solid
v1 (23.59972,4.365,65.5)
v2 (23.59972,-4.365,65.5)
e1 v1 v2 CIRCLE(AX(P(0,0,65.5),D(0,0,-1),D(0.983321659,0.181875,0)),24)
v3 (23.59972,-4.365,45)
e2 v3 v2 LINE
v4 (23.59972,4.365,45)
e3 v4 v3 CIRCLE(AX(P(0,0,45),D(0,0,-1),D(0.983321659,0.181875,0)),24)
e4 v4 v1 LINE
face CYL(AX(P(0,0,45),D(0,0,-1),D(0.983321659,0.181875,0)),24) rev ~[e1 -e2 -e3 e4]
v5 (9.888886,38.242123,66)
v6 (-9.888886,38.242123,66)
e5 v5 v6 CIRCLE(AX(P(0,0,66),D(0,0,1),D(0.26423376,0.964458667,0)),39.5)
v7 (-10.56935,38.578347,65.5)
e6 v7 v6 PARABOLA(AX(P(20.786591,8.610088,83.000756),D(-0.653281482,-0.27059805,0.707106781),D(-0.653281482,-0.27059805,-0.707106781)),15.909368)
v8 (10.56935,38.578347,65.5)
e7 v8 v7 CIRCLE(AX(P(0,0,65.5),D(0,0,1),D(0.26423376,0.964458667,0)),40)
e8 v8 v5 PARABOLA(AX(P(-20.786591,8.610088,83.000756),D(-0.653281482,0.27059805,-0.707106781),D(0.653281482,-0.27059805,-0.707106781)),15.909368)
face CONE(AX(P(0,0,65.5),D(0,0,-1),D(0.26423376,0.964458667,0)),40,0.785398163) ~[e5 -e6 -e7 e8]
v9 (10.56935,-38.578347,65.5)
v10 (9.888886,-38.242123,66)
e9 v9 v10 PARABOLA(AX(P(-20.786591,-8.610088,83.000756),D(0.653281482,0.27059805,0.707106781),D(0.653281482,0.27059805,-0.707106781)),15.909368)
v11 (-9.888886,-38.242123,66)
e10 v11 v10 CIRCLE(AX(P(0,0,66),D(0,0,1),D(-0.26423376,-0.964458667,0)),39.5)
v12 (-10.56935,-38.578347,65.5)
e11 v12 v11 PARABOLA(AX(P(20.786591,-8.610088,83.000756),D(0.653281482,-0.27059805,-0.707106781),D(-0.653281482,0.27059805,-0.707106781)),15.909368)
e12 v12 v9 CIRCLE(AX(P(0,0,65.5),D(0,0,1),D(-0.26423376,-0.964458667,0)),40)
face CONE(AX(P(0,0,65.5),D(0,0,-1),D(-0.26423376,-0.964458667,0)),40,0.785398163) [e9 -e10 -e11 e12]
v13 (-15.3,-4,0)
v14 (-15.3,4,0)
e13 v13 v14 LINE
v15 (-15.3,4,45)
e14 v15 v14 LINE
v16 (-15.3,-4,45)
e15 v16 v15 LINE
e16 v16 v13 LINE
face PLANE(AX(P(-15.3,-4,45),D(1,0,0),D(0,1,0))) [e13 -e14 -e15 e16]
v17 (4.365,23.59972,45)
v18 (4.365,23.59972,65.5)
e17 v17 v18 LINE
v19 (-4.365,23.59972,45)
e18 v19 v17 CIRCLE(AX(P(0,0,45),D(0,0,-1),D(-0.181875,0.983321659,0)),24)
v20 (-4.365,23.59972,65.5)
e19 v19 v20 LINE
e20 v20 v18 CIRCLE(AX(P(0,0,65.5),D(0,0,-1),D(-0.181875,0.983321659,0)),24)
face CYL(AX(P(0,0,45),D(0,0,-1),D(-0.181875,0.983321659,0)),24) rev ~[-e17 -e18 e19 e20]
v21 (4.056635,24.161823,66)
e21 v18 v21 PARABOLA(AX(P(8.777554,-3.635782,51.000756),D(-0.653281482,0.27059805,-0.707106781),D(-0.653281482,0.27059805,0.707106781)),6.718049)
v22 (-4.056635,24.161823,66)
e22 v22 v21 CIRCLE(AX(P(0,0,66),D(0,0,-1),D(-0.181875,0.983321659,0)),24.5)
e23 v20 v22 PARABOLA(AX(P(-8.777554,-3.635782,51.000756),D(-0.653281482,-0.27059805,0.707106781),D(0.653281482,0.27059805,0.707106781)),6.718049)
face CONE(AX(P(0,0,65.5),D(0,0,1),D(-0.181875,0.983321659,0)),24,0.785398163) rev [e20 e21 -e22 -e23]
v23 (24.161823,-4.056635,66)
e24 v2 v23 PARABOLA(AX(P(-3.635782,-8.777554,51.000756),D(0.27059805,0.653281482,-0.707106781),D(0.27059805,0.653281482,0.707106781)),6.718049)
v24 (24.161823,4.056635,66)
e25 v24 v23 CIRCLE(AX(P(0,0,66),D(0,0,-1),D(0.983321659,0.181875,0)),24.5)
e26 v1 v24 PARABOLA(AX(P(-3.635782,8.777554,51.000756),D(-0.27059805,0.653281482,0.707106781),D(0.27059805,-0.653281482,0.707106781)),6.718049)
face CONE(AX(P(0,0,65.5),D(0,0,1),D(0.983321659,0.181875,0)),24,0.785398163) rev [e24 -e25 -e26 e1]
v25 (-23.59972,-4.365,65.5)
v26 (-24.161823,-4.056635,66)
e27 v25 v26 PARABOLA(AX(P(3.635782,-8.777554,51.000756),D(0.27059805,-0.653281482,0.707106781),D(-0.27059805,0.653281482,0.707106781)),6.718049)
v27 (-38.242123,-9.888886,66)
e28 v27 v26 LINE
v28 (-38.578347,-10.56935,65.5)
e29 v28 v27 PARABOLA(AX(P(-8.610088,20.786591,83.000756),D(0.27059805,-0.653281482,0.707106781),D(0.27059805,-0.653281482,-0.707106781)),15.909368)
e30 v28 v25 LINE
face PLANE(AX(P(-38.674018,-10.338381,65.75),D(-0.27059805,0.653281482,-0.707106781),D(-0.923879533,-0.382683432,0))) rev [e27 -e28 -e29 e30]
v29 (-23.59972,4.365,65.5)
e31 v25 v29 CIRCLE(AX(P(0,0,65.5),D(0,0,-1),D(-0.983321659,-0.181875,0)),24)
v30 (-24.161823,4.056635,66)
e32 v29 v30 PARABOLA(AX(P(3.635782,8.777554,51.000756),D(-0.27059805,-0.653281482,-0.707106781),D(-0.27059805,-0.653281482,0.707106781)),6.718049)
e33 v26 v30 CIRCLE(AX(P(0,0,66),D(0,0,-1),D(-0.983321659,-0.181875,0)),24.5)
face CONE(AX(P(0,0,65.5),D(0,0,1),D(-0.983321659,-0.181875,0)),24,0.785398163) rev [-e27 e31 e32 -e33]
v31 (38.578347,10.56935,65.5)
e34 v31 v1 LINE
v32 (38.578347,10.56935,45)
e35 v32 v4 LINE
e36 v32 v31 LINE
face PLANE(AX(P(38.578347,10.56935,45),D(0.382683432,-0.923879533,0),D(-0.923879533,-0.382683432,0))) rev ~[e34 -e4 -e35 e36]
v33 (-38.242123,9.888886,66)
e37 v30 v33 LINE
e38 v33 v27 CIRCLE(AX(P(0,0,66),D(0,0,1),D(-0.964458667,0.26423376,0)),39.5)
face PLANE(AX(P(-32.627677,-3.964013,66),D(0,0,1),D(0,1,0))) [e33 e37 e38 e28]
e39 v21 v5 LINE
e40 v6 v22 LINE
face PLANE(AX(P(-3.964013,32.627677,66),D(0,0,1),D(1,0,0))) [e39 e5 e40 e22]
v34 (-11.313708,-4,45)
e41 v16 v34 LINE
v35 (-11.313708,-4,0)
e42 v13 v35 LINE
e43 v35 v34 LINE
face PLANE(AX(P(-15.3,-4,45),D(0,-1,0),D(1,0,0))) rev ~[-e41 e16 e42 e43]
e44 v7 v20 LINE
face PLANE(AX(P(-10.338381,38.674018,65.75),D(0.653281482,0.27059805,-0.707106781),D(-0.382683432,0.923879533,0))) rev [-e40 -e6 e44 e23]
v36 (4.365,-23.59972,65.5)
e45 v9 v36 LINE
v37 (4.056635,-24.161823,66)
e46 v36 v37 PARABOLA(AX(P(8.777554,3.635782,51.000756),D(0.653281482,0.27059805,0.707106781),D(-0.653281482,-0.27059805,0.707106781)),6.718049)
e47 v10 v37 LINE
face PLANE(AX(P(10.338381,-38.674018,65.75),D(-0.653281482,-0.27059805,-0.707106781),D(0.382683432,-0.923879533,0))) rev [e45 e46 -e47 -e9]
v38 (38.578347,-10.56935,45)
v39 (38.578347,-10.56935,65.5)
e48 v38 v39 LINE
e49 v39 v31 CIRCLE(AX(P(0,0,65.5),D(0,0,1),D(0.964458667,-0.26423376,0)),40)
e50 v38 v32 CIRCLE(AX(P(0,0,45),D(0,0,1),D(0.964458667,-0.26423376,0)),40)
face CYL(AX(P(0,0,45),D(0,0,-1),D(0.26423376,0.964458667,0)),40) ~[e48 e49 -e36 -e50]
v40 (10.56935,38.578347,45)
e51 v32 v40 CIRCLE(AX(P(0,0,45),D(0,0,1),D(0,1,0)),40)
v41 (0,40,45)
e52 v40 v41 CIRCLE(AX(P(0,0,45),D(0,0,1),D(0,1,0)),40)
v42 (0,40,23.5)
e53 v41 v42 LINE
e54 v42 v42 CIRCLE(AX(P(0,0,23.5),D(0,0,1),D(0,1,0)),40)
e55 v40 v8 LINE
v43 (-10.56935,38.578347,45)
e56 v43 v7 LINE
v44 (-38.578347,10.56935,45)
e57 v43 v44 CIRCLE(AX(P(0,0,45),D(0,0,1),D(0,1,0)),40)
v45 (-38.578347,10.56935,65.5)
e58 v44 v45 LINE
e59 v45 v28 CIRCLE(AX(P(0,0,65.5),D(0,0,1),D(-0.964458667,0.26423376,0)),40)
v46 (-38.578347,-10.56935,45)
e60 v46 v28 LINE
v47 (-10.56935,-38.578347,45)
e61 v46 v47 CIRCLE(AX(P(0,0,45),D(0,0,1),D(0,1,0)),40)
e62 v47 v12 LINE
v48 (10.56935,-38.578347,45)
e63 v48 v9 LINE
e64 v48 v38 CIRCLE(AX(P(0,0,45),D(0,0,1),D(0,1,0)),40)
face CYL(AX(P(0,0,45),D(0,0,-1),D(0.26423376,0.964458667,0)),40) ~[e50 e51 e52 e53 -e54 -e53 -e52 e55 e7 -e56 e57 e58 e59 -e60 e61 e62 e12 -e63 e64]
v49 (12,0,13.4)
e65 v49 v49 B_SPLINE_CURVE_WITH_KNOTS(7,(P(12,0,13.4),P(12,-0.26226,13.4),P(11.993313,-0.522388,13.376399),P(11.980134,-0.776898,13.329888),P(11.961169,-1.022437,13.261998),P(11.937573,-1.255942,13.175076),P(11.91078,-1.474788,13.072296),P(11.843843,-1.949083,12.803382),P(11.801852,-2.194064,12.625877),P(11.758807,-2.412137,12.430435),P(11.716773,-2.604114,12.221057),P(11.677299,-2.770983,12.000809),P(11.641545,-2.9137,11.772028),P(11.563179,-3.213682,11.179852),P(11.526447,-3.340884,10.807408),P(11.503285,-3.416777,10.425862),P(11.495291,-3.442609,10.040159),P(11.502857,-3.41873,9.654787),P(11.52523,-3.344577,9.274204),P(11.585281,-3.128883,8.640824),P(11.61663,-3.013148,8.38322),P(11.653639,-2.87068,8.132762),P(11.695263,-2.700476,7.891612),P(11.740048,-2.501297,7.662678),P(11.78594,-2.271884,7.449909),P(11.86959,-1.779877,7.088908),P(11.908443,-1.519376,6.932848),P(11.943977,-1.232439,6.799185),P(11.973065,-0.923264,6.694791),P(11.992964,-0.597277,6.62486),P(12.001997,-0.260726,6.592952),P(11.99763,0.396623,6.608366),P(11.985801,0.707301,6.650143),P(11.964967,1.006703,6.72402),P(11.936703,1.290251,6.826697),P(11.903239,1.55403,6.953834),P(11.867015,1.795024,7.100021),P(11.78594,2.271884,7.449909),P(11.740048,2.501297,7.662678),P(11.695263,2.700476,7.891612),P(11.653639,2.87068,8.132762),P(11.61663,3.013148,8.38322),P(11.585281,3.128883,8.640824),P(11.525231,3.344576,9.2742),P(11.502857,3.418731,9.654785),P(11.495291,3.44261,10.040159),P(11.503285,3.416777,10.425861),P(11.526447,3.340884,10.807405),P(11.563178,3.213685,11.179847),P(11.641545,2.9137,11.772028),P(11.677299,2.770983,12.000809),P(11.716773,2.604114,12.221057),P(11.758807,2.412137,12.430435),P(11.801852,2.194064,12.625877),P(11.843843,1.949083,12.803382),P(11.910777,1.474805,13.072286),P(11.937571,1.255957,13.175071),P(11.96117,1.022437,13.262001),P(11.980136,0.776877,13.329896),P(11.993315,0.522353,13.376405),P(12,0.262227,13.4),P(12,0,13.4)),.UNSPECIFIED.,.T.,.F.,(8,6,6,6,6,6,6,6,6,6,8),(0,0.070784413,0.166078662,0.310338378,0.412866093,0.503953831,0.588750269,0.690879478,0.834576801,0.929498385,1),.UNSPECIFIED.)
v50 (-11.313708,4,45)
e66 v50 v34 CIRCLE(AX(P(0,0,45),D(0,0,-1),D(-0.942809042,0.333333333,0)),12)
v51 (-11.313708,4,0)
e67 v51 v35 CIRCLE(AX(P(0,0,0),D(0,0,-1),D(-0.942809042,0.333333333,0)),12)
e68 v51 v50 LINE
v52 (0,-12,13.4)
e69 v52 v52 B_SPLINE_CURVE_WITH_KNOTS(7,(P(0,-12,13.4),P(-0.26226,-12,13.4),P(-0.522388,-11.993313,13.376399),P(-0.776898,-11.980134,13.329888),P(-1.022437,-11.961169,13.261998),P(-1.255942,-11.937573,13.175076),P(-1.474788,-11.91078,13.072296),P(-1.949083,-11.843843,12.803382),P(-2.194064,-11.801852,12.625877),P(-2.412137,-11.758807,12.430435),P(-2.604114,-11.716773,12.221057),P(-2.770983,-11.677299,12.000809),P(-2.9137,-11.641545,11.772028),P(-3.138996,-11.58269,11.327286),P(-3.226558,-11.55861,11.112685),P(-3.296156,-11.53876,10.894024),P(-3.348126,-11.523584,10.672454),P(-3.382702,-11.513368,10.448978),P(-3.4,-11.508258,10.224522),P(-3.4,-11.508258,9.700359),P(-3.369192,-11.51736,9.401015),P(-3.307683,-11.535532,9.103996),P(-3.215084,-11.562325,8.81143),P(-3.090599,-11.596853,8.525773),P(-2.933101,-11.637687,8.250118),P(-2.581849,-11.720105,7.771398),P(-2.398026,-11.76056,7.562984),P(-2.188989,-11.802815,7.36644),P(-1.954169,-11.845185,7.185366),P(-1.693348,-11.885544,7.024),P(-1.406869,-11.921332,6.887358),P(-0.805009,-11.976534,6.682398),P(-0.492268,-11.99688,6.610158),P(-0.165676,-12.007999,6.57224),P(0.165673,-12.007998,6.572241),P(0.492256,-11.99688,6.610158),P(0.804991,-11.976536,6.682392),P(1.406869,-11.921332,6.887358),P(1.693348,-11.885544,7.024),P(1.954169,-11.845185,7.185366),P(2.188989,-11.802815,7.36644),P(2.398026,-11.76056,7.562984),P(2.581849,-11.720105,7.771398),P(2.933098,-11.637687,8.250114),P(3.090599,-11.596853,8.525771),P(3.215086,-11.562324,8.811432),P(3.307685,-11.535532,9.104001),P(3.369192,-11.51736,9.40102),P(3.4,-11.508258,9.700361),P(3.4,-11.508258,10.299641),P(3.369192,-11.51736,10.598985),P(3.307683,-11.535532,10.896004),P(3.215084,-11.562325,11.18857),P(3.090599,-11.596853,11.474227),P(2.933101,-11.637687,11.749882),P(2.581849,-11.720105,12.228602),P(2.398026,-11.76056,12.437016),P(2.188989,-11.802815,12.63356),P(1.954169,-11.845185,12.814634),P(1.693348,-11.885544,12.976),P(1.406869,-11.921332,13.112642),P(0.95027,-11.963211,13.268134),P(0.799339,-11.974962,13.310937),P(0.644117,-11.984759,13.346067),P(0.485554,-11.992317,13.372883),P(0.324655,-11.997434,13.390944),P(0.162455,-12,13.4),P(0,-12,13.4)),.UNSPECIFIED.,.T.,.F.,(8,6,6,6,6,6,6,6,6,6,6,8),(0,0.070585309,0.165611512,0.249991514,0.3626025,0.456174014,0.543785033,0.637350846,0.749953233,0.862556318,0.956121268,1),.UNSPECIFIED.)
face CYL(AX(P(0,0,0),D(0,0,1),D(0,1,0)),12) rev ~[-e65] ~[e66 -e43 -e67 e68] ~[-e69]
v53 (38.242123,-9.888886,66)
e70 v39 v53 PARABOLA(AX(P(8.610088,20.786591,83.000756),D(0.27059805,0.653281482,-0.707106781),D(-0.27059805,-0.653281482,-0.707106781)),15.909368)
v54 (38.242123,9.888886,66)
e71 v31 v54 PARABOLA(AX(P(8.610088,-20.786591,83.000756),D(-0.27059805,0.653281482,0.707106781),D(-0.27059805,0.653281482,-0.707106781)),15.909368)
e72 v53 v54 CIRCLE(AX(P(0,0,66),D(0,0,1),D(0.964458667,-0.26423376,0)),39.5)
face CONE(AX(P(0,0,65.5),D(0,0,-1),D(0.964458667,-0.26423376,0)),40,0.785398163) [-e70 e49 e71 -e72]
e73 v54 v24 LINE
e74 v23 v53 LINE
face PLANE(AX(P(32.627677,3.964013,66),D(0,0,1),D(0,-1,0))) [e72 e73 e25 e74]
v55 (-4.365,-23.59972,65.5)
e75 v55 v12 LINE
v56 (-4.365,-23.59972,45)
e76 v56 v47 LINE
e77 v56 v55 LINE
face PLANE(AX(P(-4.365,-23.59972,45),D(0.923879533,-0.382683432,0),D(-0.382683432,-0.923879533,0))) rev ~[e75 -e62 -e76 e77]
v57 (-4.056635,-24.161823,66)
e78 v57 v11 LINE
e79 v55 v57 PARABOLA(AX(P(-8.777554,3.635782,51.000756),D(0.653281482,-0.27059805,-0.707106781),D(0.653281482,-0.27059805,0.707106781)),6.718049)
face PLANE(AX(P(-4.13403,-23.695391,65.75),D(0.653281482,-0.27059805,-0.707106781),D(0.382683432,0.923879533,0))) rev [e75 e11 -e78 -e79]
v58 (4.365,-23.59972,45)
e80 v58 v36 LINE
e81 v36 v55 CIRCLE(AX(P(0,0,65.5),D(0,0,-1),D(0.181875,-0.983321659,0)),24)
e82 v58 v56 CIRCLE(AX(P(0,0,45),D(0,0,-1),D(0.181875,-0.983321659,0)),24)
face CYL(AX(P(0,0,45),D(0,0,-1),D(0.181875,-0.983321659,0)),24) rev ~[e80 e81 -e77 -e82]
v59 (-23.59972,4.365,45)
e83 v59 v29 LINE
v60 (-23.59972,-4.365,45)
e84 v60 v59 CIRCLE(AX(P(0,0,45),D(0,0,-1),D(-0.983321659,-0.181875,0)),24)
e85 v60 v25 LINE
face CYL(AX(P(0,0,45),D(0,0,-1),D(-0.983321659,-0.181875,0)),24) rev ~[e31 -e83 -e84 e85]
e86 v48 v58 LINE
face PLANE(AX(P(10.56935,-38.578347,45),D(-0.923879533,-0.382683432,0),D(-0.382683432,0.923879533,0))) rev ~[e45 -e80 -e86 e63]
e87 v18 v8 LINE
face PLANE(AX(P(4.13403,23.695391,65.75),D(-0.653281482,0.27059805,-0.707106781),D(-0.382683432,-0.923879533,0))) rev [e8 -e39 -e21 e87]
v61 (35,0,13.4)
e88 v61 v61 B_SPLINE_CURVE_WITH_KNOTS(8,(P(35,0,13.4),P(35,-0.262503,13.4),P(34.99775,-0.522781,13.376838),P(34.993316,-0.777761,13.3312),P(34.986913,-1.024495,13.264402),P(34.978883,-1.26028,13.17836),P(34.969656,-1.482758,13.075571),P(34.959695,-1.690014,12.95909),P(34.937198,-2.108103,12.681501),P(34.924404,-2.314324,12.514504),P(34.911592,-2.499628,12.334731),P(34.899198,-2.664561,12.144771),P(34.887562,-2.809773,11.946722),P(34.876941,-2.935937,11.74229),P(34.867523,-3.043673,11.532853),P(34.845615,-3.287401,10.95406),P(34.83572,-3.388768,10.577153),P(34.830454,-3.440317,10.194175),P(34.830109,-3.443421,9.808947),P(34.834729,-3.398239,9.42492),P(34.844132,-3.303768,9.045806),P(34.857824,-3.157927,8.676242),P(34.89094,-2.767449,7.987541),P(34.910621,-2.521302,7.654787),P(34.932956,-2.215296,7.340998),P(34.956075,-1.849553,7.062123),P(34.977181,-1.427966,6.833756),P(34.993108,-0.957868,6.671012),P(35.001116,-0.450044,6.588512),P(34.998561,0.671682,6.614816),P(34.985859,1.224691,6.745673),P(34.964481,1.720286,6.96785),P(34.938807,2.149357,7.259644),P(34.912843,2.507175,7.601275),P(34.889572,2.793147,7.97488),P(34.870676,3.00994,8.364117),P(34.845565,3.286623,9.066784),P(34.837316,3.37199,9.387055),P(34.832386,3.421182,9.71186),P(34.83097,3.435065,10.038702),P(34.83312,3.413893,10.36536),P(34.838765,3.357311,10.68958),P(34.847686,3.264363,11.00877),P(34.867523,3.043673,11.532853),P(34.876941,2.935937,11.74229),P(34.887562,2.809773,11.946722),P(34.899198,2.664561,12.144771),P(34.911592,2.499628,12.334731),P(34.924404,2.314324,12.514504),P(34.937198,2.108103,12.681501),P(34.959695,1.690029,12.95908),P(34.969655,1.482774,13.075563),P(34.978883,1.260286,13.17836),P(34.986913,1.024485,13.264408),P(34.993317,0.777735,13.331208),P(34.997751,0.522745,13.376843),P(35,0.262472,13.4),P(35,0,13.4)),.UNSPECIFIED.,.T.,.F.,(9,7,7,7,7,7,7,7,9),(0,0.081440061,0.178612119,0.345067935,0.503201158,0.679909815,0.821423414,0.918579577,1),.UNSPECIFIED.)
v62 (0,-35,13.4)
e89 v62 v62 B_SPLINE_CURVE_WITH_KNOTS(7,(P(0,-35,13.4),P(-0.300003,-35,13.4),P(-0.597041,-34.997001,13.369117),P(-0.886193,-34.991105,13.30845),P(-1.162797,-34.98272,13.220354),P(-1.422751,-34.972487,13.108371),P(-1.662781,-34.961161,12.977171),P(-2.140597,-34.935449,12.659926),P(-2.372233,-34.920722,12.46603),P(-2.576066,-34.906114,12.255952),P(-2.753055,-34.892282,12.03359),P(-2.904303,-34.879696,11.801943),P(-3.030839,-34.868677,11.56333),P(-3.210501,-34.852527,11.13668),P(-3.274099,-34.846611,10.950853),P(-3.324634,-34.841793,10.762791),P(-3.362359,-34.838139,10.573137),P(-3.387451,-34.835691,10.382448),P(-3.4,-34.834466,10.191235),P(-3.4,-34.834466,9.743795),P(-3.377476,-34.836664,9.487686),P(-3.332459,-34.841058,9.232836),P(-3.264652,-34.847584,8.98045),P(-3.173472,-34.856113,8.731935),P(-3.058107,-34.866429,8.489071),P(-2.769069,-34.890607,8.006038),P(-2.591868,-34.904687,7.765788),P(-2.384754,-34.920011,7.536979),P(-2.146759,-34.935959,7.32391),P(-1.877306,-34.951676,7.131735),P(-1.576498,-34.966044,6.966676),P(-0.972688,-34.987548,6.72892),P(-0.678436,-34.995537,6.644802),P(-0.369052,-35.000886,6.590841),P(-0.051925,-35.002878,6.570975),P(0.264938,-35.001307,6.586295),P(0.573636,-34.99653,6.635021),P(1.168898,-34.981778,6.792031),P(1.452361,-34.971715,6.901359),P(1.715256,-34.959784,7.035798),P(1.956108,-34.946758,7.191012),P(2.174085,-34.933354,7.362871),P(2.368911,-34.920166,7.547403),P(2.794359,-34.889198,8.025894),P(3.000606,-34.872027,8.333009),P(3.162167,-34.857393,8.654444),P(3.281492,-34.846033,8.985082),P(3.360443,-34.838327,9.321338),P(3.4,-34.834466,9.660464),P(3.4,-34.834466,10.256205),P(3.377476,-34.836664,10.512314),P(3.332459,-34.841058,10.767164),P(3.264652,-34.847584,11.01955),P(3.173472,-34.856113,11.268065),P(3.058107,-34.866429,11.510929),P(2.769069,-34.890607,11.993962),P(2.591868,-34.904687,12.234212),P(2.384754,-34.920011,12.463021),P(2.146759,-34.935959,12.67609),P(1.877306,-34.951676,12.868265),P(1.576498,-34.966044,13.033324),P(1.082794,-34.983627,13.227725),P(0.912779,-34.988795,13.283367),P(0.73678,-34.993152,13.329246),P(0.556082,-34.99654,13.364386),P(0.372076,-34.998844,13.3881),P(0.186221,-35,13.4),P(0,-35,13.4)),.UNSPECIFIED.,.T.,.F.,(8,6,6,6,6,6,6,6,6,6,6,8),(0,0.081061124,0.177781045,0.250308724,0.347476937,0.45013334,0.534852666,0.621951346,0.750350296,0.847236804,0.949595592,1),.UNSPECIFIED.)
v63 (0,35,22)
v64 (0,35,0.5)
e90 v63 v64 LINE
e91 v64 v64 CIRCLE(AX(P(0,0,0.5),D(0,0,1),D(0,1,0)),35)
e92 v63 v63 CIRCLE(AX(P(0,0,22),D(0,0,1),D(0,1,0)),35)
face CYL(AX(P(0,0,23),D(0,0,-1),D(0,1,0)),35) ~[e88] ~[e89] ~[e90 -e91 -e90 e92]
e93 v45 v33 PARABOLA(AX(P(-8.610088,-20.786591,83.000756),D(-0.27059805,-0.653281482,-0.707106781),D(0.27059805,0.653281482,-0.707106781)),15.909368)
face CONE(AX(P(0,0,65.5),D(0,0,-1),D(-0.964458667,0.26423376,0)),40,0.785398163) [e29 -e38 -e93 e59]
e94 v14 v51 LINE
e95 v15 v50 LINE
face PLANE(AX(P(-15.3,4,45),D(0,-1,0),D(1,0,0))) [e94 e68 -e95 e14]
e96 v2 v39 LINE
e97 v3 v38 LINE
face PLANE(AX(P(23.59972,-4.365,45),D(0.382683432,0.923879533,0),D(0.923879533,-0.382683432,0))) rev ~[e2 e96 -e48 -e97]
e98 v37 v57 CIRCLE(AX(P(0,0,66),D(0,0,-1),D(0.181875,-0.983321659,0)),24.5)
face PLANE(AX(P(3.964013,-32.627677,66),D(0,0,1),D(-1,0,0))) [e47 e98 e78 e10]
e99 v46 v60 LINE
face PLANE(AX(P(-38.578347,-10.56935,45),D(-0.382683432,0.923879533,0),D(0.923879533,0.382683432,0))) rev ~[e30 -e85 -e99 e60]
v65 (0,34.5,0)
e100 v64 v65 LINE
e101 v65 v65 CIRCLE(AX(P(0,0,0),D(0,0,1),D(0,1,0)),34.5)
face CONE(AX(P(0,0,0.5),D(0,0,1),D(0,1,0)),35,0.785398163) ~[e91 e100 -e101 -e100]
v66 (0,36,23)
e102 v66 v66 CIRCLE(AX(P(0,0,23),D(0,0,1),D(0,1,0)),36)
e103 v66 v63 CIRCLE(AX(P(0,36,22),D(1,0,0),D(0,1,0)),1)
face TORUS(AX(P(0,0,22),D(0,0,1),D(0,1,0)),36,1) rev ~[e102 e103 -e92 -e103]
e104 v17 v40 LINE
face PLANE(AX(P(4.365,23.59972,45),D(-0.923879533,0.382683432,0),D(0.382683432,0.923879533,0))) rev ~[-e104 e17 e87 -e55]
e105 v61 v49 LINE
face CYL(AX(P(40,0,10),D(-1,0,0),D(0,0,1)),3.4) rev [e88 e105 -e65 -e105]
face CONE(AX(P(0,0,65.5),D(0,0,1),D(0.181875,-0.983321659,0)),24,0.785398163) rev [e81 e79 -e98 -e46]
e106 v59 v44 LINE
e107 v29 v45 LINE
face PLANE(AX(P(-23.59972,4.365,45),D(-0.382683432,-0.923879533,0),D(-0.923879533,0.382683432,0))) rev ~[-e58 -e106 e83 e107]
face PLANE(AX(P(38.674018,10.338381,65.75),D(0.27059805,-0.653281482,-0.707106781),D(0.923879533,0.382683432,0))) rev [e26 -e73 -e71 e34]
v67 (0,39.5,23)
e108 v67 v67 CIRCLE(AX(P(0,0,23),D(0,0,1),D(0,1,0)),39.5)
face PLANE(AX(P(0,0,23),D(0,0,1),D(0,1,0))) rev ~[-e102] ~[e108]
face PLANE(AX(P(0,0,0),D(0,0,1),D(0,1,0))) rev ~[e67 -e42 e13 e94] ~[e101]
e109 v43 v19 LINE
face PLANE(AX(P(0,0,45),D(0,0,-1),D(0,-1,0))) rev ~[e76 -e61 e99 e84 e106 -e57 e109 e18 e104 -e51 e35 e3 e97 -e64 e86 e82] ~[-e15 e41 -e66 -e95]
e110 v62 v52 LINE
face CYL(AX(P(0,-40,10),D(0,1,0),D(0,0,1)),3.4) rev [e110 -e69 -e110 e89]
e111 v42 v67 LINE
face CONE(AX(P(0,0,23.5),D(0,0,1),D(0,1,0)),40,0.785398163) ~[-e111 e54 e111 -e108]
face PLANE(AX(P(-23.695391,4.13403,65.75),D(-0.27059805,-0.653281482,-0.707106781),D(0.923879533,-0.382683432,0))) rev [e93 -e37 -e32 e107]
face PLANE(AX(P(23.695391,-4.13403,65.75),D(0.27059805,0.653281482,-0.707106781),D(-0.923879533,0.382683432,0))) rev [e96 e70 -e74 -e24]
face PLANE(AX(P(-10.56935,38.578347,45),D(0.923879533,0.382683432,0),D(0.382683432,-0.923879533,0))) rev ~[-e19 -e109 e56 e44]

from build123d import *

# Parameters (mm, degrees)
BOSS_EXTRUDE1_DEPTH = 21
CIRPATTERN1_COUNT   = 4
CHAMFER1_SIZE       = 0.5
SKETCH4_W           = 6.599999999999998
SKETCH4_H           = 8
CUT_EXTRUDE1_DEPTH  = 73.2841614740048
CHAMFER2_SIZE       = 0.5
FILLET1_R           = 1
CIRPATTERN4_COUNT   = 4


with BuildPart() as part:
    # Sketch1 → Revolve1 (revolve)
    with BuildSketch(Plane(origin=(0, 0, 0), x_dir=(0, 0, -1), z_dir=(1, 0, 0))):
        Polygon((-7.9e-16, 35), (0, 11.999999999999998), (-45, 11.999999999999995), (-45, 39.999999999999986), (-23, 39.99999999999999), (-23, 35), align=None)
    revolve(axis=Axis((0, 0, 0), (0, -1.2e-16, 1)))

    # Sketch3 → Boss-Extrude1 (add)
    with BuildSketch(Plane.XY.offset(44.99999999999999)):
        with BuildLine():
            ThreePointArc((-4.365000000000001, 23.599719807658744), (-2.1916574340201906, 23.89972045217066), (-3.535e-13, 24.00000000000001))
            Line((0, 24.00000000000001), (0, 40))
            ThreePointArc((1.49969e-12, 40), (-5.332266542852567, 39.642993498422584), (-10.569350394509474, 38.578346675798365))
            Line((-10.569350394509476, 38.57834667579836), (-4.365, 23.599719807658744))
        make_face()
        with BuildLine():
            Line((0, 40), (0, 24.00000000000001))
            ThreePointArc((-3.5261e-13, 24.00000000000001), (2.191657434019837, 23.89972045217069), (4.365, 23.599719807658744))
            Line((4.365, 23.599719807658744), (10.569350394509485, 38.57834667579835))
            ThreePointArc((10.569350394509485, 38.57834667579835), (5.332266542854057, 39.64299349842238), (1.49969e-12, 40))
        make_face()
    boss_extrude1 = extrude(amount=BOSS_EXTRUDE1_DEPTH)

    # CirPattern1: Boss-Extrude1 ×4 about axis
    cirpattern1_axis = Axis((6e-17, -4.97e-15, 0), (0, 0, 1))
    for i in range(1, CIRPATTERN1_COUNT):
        add(boss_extrude1.rotate(cirpattern1_axis, i * 360 / CIRPATTERN1_COUNT))

    # Chamfer1
    chamfer1_edges = [part.edges().sort_by_distance(p)[0] for p in [
        (4.4e-16, 24.000000000000004, 66),
        (-7.467175197254738, 31.089033241728544, 66),
        (7.467175197254742, 31.08903324172854, 66),
        (9.77e-15, 39.999999999999986, 66),
        (24.000000000000007, -1.068e-14, 66),
        (31.08903324172855, 7.467175197254726, 66),
        (31.089033241728547, -7.467175197254755, 66),
        (39.99999999999999, -2.356e-14, 66),
        (-3.26e-15, -24.000000000000014, 66),
        (7.467175197254734, -31.089033241728554, 66),
        (-7.467175197254746, -31.08903324172855, 66),
        (-1.455e-14, -39.99999999999999, 66),
        (-24.000000000000007, -1.92e-15, 66),
        (-31.08903324172855, -7.46717519725474, 66),
        (-31.089033241728547, 7.467175197254741, 66),
        (-39.99999999999999, 9.18e-15, 66),
    ]]
    chamfer(chamfer1_edges, length=CHAMFER1_SIZE)

    # Sketch4 → Cut-Extrude1 (cut, through all)
    with BuildSketch(Plane.XY.offset(44.99999999999999)):
        with Locations((-12.000000000000002, 0)):
            Rectangle(SKETCH4_W, SKETCH4_H)
    extrude(amount=-CUT_EXTRUDE1_DEPTH, mode=Mode.SUBTRACT)

    # Chamfer2
    chamfer2_edges = [part.edges().sort_by_distance(p)[0] for p in [
        (-4.9e-15, -39.99999999999999, 22.999999999999993),
        (-4.29e-15, -35, -7.95e-15),
    ]]
    chamfer(chamfer2_edges, length=CHAMFER2_SIZE)

    # Fillet1
    fillet1_edges = [part.edges().sort_by_distance(p)[0] for p in [
        (-4.29e-15, -35, 22.999999999999993),
    ]]
    fillet(fillet1_edges, radius=FILLET1_R)

    # Sketch6 → M8x1.25 Tapped Hole1 (revolve, cut)
    with BuildSketch(Plane(origin=(0, 0, 10), x_dir=(0, 0, 1), z_dir=(0, 1, 0))):
        Polygon((0, 0), (-9.8e-15, 39.99999999999999), (3.3999999999999946, 39.99999999999999), (3.3999999999999995, 3.6e-16), align=None)
    m8x1_25_tapped_hole1 = revolve(axis=Axis((-6.349999999999991, 0, 10), (1, 0, 0)), mode=Mode.SUBTRACT)

    # CirPattern4: M8x1.25 Tapped Hole1 ×4 about axis, 2 skipped
    cirpattern4_axis = Axis((0, 0, 0), (0, -1.2e-16, 1))
    add([m8x1_25_tapped_hole1.rotate(cirpattern4_axis, i * 360 / CIRPATTERN4_COUNT) for i in range(1, CIRPATTERN4_COUNT) if i not in (1, 2)], mode=Mode.SUBTRACT)


solid = part.part
